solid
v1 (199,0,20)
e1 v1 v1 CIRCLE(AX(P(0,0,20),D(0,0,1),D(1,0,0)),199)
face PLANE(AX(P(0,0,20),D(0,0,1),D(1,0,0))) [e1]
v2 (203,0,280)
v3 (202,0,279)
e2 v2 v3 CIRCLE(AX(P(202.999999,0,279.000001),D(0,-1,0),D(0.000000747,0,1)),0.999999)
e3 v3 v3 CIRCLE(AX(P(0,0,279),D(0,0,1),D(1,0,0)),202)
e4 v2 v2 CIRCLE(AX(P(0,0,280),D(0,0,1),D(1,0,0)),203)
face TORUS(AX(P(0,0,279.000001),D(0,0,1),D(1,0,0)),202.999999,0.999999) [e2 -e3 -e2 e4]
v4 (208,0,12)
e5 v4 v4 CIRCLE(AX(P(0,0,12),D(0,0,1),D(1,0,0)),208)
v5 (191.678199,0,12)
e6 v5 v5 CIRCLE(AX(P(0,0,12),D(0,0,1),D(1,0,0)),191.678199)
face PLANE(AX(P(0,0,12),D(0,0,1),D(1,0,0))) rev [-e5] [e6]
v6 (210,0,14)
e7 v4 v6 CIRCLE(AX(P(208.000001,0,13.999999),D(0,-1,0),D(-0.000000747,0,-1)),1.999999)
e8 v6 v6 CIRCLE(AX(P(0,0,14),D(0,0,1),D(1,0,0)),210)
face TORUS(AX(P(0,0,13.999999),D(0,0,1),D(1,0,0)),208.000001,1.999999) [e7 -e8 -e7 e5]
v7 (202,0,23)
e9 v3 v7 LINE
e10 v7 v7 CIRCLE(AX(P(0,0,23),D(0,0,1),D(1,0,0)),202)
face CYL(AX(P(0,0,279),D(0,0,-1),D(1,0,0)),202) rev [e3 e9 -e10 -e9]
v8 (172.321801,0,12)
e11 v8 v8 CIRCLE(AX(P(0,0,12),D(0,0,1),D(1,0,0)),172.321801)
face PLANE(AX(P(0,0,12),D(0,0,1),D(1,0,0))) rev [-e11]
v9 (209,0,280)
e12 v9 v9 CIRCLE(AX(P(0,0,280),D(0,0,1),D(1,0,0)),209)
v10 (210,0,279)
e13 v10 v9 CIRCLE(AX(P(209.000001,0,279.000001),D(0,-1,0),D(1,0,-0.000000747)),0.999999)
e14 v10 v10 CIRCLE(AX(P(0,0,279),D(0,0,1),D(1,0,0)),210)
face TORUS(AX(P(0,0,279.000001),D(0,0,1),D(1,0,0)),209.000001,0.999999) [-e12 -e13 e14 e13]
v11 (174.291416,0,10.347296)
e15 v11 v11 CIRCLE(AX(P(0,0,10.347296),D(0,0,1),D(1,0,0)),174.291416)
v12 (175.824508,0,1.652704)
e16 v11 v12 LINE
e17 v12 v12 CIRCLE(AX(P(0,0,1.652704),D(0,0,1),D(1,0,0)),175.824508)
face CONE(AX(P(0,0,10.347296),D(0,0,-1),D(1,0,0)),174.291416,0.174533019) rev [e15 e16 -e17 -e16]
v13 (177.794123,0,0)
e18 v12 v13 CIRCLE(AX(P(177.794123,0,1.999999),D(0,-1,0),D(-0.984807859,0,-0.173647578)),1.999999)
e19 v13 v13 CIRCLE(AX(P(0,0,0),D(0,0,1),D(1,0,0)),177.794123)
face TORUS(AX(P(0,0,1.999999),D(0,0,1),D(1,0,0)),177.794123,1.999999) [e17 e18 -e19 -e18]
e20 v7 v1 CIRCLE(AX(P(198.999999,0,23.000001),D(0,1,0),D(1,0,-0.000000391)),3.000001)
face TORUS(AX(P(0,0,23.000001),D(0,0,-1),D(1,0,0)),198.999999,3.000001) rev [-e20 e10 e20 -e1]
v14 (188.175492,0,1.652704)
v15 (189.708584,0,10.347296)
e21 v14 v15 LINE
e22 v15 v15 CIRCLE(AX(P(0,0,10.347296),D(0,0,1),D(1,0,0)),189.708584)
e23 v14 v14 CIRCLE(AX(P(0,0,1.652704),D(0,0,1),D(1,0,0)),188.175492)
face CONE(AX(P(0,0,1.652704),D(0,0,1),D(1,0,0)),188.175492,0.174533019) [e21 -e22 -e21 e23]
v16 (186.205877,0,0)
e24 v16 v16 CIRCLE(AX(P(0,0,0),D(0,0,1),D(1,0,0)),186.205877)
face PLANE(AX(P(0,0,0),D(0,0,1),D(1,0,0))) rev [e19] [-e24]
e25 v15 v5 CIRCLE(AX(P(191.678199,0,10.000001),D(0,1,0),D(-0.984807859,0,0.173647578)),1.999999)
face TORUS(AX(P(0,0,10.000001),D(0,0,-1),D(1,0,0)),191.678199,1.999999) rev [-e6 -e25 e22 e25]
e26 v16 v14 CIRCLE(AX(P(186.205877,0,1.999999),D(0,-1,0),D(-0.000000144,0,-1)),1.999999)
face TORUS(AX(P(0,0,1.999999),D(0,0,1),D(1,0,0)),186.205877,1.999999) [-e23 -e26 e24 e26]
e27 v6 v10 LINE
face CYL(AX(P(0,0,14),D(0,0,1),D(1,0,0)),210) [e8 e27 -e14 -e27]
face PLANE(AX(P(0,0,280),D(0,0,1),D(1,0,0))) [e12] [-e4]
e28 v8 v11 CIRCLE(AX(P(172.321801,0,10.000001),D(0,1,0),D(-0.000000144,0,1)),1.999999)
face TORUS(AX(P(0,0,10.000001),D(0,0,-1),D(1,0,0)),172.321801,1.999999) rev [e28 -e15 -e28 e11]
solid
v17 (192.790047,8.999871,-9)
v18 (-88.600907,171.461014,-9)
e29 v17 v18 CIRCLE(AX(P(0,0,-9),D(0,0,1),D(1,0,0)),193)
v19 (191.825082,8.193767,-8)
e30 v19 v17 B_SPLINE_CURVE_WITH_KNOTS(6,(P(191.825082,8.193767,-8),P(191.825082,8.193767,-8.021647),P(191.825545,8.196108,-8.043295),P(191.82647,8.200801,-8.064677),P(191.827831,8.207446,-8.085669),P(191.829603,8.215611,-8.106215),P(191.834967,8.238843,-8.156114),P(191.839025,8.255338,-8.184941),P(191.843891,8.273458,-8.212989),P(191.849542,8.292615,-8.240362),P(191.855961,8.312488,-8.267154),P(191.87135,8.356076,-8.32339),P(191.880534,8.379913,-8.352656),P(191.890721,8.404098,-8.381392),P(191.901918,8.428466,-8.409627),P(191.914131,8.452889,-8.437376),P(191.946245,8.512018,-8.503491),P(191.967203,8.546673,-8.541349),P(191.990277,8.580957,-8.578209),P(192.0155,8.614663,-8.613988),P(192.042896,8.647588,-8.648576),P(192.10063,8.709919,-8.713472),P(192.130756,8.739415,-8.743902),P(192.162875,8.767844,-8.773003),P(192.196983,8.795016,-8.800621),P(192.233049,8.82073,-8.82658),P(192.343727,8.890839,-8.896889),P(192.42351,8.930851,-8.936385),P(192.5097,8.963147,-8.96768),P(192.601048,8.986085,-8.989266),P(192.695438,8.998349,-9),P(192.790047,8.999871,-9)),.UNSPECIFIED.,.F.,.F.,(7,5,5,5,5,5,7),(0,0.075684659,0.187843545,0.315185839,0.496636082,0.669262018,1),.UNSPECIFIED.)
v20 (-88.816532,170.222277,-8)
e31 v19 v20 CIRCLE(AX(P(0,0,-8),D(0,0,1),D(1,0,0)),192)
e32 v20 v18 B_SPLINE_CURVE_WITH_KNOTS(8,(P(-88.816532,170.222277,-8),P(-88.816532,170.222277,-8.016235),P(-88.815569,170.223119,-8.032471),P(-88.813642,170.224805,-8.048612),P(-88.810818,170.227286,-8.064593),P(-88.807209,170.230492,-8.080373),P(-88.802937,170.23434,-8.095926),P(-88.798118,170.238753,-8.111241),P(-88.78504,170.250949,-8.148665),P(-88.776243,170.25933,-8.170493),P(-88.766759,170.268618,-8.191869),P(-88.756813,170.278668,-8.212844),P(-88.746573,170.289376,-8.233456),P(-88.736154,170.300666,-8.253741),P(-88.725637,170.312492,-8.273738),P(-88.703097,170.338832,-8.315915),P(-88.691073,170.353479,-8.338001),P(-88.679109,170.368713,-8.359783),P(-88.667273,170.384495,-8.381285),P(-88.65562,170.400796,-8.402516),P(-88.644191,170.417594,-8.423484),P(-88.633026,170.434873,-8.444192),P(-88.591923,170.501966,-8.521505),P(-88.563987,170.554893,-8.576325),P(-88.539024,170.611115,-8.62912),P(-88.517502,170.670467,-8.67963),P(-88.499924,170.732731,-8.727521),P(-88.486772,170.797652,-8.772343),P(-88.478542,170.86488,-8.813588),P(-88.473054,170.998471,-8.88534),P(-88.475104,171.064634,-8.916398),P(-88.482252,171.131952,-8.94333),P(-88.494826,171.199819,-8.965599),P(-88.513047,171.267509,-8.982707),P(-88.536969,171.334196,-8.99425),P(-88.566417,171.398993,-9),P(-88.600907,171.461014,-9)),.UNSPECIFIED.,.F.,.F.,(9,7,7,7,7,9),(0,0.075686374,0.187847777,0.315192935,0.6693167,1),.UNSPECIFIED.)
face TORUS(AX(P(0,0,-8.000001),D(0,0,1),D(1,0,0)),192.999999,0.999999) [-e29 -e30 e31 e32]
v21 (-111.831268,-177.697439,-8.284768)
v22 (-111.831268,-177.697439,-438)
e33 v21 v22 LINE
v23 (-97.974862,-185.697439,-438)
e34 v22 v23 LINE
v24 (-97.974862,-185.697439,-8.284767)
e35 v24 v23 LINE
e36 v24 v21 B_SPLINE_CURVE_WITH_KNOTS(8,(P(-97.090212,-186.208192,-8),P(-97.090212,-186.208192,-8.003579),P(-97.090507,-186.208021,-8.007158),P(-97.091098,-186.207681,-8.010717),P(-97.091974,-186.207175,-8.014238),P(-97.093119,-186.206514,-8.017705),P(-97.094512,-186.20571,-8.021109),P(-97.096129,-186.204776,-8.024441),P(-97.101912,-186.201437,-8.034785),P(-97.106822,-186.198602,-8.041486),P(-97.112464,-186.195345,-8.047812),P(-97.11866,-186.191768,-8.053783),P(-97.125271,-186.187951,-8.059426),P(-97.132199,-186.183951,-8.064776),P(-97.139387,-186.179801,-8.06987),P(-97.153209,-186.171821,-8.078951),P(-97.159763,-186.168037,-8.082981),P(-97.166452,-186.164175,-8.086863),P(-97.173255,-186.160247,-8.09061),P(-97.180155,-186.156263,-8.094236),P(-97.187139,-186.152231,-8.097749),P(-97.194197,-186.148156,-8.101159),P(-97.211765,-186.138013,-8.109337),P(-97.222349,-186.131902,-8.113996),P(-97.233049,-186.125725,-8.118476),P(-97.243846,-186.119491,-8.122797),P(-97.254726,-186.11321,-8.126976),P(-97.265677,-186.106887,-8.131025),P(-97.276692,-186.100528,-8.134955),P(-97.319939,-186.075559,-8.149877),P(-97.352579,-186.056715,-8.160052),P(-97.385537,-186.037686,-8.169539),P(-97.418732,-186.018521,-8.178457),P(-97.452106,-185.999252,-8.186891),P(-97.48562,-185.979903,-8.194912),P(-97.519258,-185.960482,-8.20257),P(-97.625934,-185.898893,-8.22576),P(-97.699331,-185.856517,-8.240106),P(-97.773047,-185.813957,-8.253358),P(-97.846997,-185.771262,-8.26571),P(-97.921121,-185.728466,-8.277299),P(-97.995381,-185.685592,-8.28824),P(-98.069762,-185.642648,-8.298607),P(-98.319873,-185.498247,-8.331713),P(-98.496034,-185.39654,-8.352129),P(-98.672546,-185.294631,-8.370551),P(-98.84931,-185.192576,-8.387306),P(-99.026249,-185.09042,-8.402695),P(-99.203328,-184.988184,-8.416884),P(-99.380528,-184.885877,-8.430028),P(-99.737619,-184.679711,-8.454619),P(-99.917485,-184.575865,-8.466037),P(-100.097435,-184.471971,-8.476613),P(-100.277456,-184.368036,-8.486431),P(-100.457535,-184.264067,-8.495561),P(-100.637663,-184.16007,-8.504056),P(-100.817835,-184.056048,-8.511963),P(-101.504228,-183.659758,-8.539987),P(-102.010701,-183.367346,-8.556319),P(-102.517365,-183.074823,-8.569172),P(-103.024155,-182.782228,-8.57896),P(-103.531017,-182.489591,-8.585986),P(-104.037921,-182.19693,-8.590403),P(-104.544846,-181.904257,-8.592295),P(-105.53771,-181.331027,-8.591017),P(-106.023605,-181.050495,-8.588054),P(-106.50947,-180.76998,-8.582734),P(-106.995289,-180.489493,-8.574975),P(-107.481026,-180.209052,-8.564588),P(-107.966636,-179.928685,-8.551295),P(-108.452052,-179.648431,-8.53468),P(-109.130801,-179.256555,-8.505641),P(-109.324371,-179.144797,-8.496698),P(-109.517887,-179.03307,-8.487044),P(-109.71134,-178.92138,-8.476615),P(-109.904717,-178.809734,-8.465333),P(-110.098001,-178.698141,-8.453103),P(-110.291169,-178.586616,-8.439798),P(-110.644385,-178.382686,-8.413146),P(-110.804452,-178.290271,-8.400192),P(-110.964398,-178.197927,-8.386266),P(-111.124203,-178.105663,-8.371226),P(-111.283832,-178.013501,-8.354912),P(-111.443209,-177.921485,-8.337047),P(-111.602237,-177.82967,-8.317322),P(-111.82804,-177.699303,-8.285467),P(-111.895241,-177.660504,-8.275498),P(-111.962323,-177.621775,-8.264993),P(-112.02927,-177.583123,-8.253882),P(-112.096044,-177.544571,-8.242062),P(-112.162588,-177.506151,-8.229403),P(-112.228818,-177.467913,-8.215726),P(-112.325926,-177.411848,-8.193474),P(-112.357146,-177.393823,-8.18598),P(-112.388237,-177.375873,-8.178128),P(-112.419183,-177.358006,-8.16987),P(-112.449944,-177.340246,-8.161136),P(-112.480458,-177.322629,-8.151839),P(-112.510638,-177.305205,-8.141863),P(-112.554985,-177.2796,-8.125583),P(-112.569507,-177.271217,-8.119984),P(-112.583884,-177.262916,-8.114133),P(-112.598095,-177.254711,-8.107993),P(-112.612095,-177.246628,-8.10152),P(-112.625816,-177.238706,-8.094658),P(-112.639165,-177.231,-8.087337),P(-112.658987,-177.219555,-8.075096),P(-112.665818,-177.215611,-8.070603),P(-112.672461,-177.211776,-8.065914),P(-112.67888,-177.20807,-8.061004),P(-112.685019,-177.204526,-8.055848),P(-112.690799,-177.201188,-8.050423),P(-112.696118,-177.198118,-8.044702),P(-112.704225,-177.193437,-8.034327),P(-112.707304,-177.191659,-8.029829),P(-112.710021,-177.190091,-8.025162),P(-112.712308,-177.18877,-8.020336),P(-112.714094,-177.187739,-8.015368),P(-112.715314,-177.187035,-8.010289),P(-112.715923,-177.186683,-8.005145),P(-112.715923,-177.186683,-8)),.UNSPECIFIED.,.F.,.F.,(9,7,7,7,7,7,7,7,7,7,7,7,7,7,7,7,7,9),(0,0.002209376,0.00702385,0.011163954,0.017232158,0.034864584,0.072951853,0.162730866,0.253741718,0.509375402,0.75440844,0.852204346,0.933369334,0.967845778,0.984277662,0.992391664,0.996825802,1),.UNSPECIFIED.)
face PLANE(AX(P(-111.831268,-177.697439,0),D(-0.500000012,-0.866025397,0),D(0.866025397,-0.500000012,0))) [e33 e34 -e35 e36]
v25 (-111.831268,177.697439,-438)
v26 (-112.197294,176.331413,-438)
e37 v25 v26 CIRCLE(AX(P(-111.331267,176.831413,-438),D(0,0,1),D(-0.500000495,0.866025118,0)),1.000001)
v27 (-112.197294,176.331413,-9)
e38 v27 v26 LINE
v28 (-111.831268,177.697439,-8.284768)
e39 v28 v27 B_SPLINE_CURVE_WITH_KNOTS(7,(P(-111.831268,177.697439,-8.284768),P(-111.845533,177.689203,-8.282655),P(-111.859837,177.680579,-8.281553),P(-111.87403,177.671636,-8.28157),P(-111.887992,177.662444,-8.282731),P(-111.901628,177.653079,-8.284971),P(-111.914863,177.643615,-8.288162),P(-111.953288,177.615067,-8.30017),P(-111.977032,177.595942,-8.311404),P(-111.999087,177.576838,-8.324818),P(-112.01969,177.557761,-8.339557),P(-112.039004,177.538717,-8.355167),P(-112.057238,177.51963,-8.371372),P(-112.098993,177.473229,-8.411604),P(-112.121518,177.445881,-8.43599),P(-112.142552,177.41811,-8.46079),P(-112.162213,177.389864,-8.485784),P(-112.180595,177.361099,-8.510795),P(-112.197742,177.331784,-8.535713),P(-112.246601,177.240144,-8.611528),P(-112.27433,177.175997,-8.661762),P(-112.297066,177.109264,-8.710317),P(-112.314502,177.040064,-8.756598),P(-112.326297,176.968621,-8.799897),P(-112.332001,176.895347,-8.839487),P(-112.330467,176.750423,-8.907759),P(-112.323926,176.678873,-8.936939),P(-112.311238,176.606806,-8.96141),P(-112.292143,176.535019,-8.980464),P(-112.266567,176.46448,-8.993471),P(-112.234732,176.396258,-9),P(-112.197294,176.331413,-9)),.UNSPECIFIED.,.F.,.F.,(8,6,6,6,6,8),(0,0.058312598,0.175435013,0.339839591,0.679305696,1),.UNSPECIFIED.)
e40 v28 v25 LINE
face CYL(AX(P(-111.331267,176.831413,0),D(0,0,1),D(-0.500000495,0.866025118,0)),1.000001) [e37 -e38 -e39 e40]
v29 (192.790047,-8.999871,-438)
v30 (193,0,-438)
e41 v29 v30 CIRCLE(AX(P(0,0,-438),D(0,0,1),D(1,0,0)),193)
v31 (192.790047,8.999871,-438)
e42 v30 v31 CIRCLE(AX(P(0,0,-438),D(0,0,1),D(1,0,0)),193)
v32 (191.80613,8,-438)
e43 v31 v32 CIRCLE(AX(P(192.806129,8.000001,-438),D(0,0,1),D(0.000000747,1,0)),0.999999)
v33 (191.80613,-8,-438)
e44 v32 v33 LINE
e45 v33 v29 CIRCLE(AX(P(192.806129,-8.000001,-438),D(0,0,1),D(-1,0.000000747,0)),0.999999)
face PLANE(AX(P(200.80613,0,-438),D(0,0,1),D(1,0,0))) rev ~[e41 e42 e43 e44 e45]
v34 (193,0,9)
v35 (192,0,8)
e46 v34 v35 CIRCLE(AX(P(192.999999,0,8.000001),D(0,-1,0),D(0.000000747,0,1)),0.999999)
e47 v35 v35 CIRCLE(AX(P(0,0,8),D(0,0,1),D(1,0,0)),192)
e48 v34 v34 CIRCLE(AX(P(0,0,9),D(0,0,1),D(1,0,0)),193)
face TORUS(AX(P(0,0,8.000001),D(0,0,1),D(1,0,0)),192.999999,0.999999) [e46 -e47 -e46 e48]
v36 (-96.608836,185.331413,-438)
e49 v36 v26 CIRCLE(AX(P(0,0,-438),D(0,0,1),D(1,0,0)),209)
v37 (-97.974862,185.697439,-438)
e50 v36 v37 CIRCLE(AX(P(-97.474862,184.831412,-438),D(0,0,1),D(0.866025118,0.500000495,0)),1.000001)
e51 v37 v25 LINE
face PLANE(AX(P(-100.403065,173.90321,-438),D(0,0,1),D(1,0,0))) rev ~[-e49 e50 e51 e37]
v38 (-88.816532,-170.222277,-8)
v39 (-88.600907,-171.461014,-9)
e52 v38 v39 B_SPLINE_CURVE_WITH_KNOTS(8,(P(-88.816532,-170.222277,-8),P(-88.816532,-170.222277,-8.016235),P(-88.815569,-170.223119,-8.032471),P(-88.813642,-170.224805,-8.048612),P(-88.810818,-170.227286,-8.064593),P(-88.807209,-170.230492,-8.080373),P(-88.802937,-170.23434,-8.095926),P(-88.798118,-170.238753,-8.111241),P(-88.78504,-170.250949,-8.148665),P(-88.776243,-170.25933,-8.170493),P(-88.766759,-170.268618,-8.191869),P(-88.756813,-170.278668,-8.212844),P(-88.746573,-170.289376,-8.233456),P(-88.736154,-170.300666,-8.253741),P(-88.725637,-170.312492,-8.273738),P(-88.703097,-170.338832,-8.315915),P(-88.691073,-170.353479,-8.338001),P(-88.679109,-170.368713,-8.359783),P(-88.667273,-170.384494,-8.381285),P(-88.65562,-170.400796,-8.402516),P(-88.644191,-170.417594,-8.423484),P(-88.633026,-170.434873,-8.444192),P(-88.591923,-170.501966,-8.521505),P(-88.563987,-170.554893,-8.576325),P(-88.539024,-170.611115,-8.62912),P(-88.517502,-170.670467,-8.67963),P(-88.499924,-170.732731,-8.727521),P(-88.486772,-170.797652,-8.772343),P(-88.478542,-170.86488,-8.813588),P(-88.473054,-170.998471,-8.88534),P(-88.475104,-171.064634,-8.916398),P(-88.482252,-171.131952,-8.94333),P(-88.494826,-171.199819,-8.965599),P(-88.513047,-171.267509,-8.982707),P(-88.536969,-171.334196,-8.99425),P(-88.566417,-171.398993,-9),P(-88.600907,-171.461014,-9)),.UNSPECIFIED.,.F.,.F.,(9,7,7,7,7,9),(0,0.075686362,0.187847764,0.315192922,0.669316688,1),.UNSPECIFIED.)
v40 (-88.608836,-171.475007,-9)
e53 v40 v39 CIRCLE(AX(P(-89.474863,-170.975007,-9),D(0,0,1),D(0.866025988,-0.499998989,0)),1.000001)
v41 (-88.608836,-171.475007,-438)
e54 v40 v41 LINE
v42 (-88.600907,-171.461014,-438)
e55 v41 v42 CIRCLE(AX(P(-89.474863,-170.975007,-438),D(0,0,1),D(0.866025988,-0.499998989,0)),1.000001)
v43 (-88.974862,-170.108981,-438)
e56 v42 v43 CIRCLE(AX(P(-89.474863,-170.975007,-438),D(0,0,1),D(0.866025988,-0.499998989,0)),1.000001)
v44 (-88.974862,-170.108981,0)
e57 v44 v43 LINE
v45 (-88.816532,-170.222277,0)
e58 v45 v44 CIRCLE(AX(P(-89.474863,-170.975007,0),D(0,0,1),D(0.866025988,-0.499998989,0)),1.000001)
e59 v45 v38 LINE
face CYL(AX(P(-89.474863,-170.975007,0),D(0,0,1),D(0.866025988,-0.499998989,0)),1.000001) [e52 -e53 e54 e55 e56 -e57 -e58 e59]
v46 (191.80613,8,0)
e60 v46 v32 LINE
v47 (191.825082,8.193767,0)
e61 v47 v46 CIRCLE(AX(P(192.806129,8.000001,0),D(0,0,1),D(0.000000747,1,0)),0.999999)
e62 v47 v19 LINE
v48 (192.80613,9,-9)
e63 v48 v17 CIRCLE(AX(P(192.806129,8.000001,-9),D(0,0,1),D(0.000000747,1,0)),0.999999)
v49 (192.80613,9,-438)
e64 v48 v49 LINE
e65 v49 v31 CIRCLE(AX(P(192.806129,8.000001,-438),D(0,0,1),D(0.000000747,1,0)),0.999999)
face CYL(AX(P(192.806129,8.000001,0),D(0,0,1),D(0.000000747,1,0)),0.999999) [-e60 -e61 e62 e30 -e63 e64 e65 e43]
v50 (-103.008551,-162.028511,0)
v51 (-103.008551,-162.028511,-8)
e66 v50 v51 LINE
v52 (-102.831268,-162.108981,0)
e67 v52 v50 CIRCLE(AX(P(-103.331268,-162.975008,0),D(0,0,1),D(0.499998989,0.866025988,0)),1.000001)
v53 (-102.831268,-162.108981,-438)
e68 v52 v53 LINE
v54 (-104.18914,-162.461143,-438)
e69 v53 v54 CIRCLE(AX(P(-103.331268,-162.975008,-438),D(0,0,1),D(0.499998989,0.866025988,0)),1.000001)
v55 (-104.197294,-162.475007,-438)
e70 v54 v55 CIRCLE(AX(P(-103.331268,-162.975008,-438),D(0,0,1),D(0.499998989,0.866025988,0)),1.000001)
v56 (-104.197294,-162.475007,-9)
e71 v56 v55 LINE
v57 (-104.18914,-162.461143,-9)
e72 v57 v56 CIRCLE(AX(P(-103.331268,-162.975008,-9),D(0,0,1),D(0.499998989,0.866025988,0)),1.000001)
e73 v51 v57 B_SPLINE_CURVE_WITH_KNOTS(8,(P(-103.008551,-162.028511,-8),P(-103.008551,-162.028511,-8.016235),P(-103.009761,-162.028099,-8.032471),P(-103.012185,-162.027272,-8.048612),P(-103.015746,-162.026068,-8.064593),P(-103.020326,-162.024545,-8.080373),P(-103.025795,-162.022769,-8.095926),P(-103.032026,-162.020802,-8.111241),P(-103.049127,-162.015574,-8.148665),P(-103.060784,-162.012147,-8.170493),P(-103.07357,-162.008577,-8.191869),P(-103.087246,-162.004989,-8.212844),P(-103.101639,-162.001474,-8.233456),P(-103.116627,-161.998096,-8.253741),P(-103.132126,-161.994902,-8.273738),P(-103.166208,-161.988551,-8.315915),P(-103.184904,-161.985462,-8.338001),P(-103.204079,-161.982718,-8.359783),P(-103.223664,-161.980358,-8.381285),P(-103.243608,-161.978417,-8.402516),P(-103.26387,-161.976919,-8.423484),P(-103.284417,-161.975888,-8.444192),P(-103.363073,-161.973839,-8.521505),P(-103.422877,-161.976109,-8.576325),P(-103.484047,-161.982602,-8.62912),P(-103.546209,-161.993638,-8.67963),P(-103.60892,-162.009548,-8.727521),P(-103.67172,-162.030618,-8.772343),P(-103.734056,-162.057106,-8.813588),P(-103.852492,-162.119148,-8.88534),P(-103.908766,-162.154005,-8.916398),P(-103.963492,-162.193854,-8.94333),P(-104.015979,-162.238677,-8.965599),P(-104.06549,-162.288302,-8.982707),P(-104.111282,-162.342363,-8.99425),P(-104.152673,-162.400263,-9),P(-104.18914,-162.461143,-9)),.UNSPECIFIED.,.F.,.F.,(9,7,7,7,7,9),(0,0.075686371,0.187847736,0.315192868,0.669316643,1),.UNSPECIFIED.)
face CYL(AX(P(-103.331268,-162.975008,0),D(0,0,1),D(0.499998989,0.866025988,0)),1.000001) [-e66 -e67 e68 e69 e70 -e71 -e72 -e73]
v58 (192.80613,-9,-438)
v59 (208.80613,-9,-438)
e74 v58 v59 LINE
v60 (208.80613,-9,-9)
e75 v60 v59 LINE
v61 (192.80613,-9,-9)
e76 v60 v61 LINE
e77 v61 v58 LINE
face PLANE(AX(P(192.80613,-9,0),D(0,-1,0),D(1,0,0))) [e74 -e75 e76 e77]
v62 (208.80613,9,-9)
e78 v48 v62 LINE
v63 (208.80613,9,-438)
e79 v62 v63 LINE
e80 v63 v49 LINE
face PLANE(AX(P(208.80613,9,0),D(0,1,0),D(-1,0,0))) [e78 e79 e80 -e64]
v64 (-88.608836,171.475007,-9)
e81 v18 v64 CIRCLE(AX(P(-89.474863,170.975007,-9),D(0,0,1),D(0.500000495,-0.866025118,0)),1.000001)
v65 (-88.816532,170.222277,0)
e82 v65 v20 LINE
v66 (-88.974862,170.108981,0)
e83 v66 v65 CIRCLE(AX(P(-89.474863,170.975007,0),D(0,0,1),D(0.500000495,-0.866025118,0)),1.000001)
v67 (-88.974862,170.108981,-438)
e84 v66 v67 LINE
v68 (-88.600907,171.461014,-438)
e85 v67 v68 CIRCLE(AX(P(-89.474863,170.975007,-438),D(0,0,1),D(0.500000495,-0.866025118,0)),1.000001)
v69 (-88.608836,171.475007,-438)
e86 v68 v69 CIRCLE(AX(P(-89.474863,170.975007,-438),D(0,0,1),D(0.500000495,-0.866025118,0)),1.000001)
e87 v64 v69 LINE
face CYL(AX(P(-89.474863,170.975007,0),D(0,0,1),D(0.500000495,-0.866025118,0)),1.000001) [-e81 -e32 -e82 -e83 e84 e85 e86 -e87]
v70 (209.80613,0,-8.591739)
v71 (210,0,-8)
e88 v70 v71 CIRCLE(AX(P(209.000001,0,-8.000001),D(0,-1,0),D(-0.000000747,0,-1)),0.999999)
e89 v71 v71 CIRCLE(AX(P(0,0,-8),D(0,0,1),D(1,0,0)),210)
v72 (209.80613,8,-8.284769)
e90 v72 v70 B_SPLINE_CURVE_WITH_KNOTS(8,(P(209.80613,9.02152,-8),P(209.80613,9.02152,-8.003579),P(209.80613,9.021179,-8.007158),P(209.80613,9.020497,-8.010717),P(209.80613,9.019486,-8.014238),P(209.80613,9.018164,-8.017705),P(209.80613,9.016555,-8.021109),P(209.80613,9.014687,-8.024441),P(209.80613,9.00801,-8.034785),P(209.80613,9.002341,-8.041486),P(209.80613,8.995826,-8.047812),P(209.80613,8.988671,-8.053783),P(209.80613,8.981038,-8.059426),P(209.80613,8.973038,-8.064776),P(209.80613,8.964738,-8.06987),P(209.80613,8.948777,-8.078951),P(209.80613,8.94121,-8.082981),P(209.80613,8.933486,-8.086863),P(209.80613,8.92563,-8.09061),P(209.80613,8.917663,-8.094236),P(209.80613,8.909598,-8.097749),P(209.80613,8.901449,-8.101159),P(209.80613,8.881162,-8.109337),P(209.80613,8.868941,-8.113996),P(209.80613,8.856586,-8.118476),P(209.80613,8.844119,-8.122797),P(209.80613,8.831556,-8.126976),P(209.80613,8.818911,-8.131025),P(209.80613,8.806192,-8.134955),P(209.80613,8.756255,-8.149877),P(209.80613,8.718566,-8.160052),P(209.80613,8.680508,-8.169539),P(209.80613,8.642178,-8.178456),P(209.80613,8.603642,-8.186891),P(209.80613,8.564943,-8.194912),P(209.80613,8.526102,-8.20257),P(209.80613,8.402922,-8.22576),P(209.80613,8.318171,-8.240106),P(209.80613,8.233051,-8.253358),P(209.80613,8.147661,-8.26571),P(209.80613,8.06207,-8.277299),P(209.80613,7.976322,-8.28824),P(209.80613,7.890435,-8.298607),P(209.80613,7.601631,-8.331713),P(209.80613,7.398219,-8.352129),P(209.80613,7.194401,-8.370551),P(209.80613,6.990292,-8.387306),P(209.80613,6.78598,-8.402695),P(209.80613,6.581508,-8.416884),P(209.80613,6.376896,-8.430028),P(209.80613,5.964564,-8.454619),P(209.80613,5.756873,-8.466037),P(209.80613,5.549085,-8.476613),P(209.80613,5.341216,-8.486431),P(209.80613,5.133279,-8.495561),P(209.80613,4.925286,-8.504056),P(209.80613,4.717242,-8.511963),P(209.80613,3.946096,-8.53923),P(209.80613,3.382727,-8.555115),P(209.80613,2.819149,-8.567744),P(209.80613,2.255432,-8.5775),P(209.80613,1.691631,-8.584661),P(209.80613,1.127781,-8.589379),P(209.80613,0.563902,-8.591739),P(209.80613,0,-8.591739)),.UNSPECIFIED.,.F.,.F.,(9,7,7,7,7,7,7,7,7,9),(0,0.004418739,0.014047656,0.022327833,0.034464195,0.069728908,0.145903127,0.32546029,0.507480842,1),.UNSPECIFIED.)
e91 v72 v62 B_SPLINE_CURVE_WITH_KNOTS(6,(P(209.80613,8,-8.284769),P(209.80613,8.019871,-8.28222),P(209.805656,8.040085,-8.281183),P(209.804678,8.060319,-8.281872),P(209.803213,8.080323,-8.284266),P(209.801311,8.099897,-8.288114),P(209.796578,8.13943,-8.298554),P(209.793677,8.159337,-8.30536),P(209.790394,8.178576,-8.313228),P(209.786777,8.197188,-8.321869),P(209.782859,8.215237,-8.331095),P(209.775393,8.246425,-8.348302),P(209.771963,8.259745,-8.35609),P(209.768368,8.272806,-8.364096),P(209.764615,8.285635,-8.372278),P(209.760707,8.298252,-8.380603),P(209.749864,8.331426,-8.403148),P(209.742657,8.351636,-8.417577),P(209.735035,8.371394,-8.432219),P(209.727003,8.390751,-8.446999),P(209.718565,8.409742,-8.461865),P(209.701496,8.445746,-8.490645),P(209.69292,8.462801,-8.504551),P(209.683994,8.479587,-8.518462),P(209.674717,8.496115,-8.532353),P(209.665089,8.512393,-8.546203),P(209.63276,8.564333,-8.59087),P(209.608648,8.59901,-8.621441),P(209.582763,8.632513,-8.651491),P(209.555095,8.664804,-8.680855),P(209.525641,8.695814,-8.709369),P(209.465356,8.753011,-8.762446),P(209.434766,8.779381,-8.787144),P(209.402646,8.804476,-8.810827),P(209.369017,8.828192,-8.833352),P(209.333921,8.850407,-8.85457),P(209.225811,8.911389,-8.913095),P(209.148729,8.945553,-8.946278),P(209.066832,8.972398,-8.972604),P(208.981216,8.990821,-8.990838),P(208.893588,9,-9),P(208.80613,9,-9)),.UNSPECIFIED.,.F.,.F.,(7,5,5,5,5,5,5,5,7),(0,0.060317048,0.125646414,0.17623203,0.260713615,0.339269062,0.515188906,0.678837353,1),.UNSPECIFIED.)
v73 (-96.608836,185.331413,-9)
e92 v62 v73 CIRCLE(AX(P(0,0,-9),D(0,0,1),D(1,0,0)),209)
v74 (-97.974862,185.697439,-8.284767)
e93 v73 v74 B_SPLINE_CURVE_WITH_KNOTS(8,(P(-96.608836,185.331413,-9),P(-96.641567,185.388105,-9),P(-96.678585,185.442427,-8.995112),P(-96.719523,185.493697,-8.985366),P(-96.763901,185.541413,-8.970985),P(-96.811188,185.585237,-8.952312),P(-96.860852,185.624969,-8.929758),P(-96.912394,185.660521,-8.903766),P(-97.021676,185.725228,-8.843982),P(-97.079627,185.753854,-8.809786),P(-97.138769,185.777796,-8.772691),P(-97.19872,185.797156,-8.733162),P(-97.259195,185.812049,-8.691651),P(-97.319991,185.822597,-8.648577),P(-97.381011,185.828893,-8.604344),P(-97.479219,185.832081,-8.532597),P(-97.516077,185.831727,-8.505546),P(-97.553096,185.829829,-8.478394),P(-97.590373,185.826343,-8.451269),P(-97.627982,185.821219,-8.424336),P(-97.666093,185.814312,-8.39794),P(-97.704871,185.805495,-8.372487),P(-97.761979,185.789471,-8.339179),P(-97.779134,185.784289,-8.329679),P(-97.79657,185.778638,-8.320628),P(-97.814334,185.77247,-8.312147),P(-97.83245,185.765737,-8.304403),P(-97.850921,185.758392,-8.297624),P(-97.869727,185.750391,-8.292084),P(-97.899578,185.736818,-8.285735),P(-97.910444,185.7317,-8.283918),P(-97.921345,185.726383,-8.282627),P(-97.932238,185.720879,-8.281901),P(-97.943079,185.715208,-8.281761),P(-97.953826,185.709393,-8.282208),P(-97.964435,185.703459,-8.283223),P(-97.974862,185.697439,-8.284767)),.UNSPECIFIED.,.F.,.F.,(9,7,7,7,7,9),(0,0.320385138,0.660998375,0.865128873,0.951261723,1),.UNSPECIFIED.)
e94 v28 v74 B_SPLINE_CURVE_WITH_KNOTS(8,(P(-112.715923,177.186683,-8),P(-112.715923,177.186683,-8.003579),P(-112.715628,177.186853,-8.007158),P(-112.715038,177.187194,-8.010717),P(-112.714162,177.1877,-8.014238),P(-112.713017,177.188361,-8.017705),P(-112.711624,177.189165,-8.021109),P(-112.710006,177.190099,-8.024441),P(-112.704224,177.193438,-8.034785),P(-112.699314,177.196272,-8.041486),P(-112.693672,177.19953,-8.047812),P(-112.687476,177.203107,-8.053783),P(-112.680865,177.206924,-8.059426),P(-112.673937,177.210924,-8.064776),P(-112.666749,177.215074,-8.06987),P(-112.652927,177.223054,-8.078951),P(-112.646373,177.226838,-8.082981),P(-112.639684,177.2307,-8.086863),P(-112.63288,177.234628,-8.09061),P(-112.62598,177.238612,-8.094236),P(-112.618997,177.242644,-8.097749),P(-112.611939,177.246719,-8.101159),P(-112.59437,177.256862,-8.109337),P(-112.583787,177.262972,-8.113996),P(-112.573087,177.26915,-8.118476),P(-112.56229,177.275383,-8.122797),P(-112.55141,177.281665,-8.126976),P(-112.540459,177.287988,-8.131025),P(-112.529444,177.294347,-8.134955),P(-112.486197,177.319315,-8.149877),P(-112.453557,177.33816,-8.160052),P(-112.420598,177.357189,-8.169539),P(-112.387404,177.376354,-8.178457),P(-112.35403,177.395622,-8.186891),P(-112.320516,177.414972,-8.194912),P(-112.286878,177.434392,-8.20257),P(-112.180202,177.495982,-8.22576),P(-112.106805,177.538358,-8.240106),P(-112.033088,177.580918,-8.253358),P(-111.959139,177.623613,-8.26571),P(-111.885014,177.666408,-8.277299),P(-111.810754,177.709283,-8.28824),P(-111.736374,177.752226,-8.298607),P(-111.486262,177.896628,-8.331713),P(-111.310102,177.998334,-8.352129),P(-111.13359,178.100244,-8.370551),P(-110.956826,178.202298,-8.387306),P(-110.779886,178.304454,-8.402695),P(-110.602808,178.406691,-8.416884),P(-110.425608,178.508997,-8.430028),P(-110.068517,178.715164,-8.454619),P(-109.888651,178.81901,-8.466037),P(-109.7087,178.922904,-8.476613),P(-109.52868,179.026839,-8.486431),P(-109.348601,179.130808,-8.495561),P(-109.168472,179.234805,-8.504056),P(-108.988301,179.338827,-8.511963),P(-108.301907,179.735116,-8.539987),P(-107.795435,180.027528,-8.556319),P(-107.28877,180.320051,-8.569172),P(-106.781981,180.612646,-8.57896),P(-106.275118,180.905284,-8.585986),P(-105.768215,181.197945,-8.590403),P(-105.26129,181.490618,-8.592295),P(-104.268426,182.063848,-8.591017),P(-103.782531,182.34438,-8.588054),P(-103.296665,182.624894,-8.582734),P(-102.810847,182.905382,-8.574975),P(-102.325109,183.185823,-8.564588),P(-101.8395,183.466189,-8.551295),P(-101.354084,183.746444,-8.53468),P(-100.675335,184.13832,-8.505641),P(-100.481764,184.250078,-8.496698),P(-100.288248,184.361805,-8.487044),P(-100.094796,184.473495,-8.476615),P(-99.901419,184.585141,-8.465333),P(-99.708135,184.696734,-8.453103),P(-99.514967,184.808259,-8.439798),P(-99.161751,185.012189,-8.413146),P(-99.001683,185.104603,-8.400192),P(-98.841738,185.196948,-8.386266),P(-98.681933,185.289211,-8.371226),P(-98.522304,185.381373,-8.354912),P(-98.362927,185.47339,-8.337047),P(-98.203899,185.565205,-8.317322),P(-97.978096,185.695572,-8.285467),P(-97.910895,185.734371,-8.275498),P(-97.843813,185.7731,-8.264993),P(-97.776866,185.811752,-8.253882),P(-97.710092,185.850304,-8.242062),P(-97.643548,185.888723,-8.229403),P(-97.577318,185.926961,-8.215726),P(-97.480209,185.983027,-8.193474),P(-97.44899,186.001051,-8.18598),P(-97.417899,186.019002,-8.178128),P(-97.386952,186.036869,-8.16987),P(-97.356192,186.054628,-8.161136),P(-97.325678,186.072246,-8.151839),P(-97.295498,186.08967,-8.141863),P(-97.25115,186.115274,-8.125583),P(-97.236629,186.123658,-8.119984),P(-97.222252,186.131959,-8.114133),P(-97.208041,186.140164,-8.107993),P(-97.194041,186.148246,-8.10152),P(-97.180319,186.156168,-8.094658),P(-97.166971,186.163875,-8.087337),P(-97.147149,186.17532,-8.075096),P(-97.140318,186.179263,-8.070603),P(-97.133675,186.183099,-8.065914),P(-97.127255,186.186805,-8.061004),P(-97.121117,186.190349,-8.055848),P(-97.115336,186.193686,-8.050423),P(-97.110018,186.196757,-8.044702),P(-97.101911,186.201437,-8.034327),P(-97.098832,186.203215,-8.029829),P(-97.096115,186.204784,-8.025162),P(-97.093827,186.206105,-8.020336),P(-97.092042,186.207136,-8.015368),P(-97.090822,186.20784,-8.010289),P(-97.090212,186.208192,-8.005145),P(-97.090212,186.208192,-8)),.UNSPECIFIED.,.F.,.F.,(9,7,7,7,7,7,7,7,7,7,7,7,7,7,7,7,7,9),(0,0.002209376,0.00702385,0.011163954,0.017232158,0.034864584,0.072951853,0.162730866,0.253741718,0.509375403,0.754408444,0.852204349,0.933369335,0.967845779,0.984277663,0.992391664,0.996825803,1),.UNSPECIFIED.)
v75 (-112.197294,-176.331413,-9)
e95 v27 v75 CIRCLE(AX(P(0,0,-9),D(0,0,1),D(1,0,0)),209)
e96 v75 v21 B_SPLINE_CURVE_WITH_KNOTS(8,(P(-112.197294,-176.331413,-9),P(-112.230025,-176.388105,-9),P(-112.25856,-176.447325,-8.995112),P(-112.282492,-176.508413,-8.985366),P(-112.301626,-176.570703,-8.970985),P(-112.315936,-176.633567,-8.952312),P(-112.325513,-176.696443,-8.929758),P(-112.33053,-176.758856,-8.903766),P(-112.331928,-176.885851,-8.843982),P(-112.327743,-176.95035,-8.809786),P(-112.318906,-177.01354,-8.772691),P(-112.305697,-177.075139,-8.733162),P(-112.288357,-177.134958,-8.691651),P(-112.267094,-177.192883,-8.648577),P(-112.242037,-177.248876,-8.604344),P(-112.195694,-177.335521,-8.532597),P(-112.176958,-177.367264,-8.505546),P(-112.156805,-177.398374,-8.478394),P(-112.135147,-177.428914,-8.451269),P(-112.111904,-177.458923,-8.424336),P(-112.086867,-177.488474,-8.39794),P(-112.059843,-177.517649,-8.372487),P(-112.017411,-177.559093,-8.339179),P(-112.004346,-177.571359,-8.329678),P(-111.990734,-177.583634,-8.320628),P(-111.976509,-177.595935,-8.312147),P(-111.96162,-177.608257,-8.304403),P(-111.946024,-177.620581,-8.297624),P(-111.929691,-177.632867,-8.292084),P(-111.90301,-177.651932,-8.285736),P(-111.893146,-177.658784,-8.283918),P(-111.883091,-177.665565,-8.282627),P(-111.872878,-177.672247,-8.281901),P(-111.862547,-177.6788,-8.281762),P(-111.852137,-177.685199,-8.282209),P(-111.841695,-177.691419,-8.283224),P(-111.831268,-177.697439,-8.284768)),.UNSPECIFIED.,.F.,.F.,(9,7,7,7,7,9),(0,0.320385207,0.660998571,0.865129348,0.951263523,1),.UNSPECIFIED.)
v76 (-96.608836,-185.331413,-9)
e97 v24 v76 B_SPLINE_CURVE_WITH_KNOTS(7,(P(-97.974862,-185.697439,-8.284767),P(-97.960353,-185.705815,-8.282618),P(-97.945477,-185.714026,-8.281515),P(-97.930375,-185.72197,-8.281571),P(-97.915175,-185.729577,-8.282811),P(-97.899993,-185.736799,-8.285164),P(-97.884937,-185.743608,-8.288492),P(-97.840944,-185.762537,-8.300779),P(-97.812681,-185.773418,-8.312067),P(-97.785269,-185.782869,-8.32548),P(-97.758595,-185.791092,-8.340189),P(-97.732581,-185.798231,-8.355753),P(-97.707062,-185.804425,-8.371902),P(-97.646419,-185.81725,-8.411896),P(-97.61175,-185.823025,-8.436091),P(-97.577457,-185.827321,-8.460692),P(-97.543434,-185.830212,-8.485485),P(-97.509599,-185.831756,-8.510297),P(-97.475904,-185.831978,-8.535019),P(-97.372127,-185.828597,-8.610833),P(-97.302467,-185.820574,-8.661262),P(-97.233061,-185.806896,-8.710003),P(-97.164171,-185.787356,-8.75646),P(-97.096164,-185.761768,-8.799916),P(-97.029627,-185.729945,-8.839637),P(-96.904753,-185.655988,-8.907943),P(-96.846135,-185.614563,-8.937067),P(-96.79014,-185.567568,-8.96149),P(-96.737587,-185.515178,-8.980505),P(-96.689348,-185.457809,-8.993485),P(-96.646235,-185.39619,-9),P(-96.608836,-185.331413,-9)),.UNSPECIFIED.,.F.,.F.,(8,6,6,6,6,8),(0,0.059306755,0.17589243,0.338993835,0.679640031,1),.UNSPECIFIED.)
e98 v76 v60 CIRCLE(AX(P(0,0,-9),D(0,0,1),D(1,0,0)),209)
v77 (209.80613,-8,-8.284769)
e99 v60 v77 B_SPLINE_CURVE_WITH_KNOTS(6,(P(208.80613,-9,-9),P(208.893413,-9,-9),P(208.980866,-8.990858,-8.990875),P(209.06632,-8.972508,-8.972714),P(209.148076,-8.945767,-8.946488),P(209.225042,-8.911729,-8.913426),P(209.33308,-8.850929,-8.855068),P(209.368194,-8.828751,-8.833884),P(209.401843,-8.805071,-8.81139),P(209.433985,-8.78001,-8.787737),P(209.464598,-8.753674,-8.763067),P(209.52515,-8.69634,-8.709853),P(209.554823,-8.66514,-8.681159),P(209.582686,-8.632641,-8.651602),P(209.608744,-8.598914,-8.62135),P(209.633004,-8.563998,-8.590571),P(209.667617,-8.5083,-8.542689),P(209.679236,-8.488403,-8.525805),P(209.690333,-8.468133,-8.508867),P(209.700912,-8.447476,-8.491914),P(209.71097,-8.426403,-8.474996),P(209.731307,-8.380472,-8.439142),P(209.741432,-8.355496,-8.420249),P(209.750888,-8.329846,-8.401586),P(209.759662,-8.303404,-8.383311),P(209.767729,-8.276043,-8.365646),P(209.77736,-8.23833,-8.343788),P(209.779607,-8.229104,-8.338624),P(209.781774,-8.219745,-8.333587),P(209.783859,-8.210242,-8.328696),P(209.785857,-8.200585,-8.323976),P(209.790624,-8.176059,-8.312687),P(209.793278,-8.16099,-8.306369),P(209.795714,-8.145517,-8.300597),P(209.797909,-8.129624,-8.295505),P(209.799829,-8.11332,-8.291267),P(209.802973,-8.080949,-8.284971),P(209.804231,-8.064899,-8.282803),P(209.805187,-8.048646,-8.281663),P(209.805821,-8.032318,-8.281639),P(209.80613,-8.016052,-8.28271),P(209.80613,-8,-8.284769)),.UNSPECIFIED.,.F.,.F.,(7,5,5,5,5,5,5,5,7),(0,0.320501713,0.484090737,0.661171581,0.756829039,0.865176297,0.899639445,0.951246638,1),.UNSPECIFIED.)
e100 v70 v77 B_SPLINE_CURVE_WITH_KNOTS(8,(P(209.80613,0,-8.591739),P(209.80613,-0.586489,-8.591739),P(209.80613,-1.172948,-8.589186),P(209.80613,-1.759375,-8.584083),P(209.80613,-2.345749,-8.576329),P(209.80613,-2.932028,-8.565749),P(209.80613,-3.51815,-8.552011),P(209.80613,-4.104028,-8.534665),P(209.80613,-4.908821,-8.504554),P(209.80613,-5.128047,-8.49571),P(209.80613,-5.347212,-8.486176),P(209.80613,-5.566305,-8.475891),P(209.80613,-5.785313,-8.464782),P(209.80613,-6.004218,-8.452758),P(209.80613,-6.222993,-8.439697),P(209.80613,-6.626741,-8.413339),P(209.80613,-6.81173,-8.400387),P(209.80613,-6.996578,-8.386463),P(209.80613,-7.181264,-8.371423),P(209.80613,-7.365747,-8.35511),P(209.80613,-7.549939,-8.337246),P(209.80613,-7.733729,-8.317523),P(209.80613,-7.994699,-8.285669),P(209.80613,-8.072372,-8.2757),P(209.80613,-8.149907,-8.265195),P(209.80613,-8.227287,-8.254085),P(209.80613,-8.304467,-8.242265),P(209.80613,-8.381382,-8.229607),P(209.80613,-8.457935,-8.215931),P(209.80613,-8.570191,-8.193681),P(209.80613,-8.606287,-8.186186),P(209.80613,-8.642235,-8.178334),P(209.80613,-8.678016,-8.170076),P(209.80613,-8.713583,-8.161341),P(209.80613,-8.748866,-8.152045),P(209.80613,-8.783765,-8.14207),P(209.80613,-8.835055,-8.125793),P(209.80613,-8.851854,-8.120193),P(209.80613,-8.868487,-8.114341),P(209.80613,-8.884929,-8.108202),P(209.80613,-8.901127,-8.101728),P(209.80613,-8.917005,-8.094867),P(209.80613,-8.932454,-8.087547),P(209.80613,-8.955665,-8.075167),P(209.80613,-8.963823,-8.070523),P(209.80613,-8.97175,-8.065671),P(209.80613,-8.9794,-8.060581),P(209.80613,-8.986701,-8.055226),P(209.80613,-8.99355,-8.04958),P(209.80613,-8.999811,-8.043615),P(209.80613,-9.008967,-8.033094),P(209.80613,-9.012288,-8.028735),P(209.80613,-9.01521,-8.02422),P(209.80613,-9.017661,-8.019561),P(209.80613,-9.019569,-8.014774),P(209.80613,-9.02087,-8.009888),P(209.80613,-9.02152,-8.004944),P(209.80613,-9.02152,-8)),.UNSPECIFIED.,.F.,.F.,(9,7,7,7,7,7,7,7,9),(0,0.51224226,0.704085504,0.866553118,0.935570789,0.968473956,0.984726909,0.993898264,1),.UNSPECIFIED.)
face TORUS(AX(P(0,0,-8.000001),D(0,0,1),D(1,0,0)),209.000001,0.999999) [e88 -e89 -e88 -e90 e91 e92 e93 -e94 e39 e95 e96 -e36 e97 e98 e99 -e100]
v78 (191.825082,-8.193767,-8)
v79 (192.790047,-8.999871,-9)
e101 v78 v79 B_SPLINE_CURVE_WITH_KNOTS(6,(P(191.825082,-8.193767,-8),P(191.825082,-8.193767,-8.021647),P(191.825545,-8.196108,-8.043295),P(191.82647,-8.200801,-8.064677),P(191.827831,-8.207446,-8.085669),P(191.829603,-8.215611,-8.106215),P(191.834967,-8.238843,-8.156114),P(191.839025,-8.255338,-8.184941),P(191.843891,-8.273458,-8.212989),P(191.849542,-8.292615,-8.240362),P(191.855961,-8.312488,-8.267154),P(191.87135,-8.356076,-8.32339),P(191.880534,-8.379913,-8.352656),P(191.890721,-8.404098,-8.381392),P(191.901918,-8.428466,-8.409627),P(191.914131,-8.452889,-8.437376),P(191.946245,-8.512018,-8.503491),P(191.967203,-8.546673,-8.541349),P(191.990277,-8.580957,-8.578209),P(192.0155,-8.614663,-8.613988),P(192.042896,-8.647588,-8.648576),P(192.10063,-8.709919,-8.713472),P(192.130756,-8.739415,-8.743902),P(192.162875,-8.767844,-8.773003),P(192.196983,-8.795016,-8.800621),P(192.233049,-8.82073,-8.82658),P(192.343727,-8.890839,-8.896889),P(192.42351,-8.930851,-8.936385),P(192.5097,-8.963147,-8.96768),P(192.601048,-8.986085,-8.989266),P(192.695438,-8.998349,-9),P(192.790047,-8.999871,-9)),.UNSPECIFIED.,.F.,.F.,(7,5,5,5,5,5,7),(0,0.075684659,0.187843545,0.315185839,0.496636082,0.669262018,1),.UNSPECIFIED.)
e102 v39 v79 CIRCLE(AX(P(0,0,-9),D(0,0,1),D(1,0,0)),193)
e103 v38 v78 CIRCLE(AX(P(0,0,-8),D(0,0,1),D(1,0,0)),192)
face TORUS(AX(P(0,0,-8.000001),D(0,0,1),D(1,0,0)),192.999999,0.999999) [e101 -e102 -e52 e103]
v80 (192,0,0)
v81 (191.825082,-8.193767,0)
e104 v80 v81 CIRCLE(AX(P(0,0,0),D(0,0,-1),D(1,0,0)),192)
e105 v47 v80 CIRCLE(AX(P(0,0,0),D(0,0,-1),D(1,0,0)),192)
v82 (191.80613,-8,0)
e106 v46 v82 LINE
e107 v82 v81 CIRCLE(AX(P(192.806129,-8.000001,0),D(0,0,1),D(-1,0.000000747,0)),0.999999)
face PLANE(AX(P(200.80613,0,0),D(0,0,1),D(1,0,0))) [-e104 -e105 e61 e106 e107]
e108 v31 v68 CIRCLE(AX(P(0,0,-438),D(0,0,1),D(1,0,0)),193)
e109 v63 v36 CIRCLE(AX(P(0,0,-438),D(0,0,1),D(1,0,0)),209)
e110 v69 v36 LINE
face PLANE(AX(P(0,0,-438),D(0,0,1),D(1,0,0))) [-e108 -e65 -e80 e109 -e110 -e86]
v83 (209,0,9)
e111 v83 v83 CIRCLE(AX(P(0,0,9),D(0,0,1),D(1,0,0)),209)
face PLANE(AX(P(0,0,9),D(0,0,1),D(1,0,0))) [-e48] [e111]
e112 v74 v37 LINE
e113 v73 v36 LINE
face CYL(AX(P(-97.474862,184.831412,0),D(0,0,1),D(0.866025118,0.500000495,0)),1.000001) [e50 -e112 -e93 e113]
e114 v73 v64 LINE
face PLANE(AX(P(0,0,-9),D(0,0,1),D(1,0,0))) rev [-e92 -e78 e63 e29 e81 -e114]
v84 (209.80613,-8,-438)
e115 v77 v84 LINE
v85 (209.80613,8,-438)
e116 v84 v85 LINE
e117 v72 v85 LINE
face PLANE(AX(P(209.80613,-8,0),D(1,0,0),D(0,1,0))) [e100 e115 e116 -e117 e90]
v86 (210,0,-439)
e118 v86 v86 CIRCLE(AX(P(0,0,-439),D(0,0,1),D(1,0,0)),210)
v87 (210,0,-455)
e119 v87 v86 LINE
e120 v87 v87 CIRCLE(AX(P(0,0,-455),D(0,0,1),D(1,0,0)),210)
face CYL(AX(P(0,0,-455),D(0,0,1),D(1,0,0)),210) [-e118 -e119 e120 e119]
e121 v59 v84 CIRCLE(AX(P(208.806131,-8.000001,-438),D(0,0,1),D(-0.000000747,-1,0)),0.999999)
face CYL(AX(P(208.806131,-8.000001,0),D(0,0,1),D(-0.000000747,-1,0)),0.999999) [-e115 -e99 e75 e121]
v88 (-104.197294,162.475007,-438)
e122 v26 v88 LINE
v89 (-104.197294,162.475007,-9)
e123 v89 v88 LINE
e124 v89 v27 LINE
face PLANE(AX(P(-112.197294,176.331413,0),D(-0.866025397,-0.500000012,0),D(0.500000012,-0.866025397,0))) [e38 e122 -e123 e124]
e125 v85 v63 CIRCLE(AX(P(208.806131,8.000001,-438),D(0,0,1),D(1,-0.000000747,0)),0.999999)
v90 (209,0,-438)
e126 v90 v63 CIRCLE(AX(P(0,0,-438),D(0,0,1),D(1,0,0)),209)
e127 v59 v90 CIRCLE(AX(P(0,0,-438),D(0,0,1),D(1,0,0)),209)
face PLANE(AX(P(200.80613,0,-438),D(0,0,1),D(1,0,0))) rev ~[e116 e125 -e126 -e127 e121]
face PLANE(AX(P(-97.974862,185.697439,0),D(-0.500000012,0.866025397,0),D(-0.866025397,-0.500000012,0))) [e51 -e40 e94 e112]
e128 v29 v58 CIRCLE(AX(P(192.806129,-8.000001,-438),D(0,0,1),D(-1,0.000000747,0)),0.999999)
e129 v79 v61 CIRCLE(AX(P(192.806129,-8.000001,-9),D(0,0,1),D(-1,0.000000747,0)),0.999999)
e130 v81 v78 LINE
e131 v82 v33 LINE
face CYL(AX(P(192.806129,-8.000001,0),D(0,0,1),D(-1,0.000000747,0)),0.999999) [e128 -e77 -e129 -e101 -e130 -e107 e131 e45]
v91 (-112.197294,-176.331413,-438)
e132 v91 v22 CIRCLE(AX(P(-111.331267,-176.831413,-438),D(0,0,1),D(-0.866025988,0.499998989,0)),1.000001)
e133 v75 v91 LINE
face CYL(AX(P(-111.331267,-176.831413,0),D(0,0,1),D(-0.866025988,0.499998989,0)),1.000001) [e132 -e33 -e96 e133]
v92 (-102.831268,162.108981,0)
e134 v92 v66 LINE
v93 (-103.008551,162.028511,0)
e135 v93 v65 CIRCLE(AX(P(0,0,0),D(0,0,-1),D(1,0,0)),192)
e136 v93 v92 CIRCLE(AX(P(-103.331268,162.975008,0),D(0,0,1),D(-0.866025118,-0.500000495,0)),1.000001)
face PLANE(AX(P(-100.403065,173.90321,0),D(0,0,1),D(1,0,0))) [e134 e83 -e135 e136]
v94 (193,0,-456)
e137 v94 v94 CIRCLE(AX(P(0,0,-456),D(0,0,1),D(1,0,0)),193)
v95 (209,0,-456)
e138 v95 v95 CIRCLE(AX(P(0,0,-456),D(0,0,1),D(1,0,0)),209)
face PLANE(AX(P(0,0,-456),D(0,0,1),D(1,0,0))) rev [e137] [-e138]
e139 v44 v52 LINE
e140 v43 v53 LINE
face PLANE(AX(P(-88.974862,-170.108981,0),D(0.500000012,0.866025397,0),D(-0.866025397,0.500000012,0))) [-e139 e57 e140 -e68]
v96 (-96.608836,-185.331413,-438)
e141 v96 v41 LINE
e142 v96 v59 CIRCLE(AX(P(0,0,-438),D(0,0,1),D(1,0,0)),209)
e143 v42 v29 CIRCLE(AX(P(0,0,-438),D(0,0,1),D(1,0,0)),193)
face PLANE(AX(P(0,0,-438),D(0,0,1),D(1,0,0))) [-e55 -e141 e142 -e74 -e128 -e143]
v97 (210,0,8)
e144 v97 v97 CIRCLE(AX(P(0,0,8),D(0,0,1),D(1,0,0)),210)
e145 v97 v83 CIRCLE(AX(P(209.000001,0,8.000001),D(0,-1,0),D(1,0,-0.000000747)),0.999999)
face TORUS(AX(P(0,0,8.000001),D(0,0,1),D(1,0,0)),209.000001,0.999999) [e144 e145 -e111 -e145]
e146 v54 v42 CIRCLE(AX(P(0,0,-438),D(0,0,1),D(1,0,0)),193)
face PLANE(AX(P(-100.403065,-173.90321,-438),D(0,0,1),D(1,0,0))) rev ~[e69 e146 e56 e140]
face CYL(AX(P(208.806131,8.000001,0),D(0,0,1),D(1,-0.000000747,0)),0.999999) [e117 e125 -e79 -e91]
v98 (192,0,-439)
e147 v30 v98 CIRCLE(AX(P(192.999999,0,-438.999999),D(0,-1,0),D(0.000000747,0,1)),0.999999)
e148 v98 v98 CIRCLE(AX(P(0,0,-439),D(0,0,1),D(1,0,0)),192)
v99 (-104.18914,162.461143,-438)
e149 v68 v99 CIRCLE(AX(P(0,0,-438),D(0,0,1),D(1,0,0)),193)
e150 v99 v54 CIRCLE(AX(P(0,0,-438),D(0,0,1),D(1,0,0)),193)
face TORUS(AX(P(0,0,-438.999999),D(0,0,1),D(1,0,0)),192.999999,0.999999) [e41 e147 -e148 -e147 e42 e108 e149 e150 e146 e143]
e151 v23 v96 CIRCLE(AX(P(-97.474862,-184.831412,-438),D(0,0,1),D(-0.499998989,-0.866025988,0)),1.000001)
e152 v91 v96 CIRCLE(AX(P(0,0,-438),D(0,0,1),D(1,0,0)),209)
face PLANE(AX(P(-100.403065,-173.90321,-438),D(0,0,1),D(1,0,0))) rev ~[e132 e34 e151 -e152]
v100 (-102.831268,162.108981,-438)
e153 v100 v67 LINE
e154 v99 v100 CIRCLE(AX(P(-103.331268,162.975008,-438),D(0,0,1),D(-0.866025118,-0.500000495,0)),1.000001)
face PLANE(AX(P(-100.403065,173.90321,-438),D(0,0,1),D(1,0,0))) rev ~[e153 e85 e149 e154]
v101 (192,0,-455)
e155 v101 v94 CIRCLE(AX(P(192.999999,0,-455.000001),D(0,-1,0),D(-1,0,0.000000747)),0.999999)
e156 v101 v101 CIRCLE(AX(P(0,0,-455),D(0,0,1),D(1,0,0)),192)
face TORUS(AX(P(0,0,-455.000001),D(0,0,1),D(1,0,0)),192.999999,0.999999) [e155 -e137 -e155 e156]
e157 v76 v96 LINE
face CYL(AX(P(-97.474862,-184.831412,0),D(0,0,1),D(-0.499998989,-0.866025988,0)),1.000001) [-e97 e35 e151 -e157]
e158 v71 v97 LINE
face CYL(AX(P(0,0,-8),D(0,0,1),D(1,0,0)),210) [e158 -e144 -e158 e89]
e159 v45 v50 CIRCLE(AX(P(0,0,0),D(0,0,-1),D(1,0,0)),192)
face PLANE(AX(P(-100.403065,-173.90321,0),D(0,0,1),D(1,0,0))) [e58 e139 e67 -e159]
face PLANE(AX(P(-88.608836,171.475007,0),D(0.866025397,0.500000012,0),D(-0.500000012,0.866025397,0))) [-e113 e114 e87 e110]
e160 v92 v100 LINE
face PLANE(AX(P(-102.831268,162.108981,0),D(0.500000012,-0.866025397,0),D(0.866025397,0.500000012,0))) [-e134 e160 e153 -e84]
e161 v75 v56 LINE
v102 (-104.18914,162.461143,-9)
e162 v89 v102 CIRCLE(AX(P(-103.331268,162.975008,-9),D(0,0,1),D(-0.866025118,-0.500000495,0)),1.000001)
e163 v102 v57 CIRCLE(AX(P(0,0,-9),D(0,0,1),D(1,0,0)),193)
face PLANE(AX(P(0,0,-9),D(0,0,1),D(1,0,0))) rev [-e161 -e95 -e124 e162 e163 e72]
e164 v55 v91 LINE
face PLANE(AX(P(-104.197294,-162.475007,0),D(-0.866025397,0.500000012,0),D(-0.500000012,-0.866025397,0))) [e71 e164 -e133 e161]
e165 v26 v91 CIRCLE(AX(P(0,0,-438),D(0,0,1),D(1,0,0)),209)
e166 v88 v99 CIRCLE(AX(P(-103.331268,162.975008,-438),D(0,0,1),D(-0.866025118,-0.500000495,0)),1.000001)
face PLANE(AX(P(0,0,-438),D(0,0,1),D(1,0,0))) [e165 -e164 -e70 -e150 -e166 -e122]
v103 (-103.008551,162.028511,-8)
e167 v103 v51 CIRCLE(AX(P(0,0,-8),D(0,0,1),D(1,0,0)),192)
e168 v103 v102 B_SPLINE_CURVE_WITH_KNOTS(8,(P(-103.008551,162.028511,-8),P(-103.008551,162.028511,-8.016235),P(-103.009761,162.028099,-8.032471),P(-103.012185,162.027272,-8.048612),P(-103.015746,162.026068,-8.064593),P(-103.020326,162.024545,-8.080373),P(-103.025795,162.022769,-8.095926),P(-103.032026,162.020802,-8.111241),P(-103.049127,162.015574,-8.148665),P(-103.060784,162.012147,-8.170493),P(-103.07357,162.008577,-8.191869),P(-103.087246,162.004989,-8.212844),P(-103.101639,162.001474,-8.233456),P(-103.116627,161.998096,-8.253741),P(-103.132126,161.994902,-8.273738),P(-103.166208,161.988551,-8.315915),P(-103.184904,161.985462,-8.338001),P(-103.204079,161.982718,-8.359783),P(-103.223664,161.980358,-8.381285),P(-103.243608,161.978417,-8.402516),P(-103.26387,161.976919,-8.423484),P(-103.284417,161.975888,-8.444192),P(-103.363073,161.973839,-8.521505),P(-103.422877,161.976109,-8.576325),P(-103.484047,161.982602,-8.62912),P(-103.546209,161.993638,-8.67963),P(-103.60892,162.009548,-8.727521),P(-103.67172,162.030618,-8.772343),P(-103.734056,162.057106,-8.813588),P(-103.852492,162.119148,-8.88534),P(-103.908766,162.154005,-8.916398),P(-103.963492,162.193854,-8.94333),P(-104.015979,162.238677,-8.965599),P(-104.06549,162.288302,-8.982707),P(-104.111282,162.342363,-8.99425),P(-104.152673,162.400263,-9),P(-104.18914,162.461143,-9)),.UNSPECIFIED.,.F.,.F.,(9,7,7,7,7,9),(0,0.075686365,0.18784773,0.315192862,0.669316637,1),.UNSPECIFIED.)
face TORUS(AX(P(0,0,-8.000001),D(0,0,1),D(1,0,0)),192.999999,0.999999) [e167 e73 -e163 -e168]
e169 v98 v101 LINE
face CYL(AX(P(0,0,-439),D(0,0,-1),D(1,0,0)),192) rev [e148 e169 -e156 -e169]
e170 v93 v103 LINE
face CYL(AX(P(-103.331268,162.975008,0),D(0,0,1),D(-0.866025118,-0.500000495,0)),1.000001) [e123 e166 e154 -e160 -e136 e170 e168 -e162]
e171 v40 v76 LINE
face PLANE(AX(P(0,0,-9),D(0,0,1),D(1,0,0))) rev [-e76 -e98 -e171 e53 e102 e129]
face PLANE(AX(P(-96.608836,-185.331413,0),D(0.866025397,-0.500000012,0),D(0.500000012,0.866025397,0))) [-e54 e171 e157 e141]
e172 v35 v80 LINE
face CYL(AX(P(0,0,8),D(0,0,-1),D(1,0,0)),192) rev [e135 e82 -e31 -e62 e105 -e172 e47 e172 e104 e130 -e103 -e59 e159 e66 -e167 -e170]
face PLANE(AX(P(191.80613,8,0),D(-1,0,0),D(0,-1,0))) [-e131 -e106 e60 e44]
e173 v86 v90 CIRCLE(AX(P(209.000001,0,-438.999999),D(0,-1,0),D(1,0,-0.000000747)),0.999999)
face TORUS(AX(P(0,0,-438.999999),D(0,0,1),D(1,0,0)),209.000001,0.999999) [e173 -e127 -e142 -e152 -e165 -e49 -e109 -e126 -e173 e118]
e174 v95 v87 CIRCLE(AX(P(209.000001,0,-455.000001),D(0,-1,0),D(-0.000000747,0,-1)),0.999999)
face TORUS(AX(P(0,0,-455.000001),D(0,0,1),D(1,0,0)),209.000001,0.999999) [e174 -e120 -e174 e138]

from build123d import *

# Parameters (mm, degrees)
F5_DEPTH = 438


with BuildPart() as f1:
    # F0 (on Front) → F1 (revolve)
    with BuildSketch(Plane.XZ):
        with BuildLine():
            ThreePointArc((210, 279), (209.707107, 279.707107), (209, 280))
            Line((209, 280), (203, 280))
            ThreePointArc((203, 280), (202.292893, 279.707107), (202, 279))
            Line((202, 279), (202, 23))
            ThreePointArc((202, 23), (201.12132, 20.87868), (199, 20))
            Line((199, 20), (0, 20))
            Line((0, 20), (0, 12))
            Line((0, 12), (172.321801, 12))
            ThreePointArc((172.321801, 12), (173.607376, 11.532089), (174.291416, 10.347296))
            Line((174.291416, 10.347296), (175.824508, 1.652704))
            ThreePointArc((175.824508, 1.652704), (176.508548, 0.467911), (177.794123, 0))
            Line((177.794123, 0), (186.205877, 0))
            ThreePointArc((186.205877, 0), (187.491452, 0.467911), (188.175492, 1.652704))
            Line((188.175492, 1.652704), (189.708584, 10.347296))
            ThreePointArc((189.708584, 10.347296), (190.392624, 11.532089), (191.678199, 12))
            Line((191.678199, 12), (208, 12))
            ThreePointArc((208, 12), (209.414214, 12.585786), (210, 14))
            Line((210, 14), (210, 279))
        make_face()
    revolve(axis=Axis((0, 0, 10), (0, 0, 1)))


with BuildPart() as f3:
    # F2 (on Front) → F3 (revolve)
    with BuildSketch(Plane.XZ):
        with BuildLine():
            Line((193, -9), (209, -9))
            ThreePointArc((209, -9), (209.707107, -8.707107), (210, -8))
            Line((210, -8), (210, 8))
            ThreePointArc((210, 8), (209.707107, 8.707107), (209, 9))
            Line((209, 9), (193, 9))
            ThreePointArc((193, 9), (192.292893, 8.707107), (192, 8))
            Line((192, 8), (192, -8))
            ThreePointArc((192, -8), (192.292893, -8.707107), (193, -9))
        make_face()
    revolve(axis=Axis((0, 0, 10), (0, 0, 1)))

    # F4 (on Top) → F5 (join)
    with BuildSketch(Plane.XY):
        with BuildLine():
            Line((192.80613, -9), (208.80613, -9))
            ThreePointArc((208.80613, -9), (209.513237, -8.707107), (209.80613, -8))
            Line((209.80613, -8), (209.80613, 8))
            ThreePointArc((209.80613, 8), (209.513237, 8.707107), (208.80613, 9))
            Line((208.80613, 9), (192.80613, 9))
            ThreePointArc((192.80613, 9), (192.099023, 8.707107), (191.80613, 8))
            Line((191.80613, 8), (191.80613, -8))
            ThreePointArc((191.80613, -8), (192.099023, -8.707107), (192.80613, -9))
        make_face()
        with BuildLine():
            Line((-88.608836, 171.475007), (-96.608836, 185.331413))
            ThreePointArc((-96.608836, 185.331413), (-97.216043, 185.797339), (-97.974862, 185.697439))
            Line((-97.974862, 185.697439), (-111.831268, 177.697439))
            ThreePointArc((-111.831268, 177.697439), (-112.297194, 177.090232), (-112.197294, 176.331413))
            Line((-112.197294, 176.331413), (-104.197294, 162.475007))
            ThreePointArc((-104.197294, 162.475007), (-103.590087, 162.009081), (-102.831268, 162.108981))
            Line((-102.831268, 162.108981), (-88.974862, 170.108981))
            ThreePointArc((-88.974862, 170.108981), (-88.508936, 170.716188), (-88.608836, 171.475007))
        make_face()
        with BuildLine():
            Line((-104.197294, -162.475007), (-112.197294, -176.331413))
            ThreePointArc((-112.197294, -176.331413), (-112.297194, -177.090232), (-111.831268, -177.697439))
            Line((-111.831268, -177.697439), (-97.974862, -185.697439))
            ThreePointArc((-97.974862, -185.697439), (-97.216043, -185.797339), (-96.608836, -185.331413))
            Line((-96.608836, -185.331413), (-88.608836, -171.475007))
            ThreePointArc((-88.608836, -171.475007), (-88.508936, -170.716188), (-88.974862, -170.108981))
            Line((-88.974862, -170.108981), (-102.831268, -162.108981))
            ThreePointArc((-102.831268, -162.108981), (-103.590087, -162.009081), (-104.197294, -162.475007))
        make_face()
    extrude(amount=-F5_DEPTH)

    # F6 (on Front) → F7 (revolve)
    with BuildSketch(Plane.XZ):
        with BuildLine():
            Line((193, -456), (209, -456))
            ThreePointArc((209, -456), (209.707107, -455.707107), (210, -455))
            Line((210, -455), (210, -439))
            ThreePointArc((210, -439), (209.707107, -438.292893), (209, -438))
            Line((209, -438), (193, -438))
            ThreePointArc((193, -438), (192.292893, -438.292893), (192, -439))
            Line((192, -439), (192, -455))
            ThreePointArc((192, -455), (192.292893, -455.707107), (193, -456))
        make_face()
    revolve(axis=Axis((0, 0, 10), (0, 0, 1)))


solid = Compound([f1.part, f3.part])
